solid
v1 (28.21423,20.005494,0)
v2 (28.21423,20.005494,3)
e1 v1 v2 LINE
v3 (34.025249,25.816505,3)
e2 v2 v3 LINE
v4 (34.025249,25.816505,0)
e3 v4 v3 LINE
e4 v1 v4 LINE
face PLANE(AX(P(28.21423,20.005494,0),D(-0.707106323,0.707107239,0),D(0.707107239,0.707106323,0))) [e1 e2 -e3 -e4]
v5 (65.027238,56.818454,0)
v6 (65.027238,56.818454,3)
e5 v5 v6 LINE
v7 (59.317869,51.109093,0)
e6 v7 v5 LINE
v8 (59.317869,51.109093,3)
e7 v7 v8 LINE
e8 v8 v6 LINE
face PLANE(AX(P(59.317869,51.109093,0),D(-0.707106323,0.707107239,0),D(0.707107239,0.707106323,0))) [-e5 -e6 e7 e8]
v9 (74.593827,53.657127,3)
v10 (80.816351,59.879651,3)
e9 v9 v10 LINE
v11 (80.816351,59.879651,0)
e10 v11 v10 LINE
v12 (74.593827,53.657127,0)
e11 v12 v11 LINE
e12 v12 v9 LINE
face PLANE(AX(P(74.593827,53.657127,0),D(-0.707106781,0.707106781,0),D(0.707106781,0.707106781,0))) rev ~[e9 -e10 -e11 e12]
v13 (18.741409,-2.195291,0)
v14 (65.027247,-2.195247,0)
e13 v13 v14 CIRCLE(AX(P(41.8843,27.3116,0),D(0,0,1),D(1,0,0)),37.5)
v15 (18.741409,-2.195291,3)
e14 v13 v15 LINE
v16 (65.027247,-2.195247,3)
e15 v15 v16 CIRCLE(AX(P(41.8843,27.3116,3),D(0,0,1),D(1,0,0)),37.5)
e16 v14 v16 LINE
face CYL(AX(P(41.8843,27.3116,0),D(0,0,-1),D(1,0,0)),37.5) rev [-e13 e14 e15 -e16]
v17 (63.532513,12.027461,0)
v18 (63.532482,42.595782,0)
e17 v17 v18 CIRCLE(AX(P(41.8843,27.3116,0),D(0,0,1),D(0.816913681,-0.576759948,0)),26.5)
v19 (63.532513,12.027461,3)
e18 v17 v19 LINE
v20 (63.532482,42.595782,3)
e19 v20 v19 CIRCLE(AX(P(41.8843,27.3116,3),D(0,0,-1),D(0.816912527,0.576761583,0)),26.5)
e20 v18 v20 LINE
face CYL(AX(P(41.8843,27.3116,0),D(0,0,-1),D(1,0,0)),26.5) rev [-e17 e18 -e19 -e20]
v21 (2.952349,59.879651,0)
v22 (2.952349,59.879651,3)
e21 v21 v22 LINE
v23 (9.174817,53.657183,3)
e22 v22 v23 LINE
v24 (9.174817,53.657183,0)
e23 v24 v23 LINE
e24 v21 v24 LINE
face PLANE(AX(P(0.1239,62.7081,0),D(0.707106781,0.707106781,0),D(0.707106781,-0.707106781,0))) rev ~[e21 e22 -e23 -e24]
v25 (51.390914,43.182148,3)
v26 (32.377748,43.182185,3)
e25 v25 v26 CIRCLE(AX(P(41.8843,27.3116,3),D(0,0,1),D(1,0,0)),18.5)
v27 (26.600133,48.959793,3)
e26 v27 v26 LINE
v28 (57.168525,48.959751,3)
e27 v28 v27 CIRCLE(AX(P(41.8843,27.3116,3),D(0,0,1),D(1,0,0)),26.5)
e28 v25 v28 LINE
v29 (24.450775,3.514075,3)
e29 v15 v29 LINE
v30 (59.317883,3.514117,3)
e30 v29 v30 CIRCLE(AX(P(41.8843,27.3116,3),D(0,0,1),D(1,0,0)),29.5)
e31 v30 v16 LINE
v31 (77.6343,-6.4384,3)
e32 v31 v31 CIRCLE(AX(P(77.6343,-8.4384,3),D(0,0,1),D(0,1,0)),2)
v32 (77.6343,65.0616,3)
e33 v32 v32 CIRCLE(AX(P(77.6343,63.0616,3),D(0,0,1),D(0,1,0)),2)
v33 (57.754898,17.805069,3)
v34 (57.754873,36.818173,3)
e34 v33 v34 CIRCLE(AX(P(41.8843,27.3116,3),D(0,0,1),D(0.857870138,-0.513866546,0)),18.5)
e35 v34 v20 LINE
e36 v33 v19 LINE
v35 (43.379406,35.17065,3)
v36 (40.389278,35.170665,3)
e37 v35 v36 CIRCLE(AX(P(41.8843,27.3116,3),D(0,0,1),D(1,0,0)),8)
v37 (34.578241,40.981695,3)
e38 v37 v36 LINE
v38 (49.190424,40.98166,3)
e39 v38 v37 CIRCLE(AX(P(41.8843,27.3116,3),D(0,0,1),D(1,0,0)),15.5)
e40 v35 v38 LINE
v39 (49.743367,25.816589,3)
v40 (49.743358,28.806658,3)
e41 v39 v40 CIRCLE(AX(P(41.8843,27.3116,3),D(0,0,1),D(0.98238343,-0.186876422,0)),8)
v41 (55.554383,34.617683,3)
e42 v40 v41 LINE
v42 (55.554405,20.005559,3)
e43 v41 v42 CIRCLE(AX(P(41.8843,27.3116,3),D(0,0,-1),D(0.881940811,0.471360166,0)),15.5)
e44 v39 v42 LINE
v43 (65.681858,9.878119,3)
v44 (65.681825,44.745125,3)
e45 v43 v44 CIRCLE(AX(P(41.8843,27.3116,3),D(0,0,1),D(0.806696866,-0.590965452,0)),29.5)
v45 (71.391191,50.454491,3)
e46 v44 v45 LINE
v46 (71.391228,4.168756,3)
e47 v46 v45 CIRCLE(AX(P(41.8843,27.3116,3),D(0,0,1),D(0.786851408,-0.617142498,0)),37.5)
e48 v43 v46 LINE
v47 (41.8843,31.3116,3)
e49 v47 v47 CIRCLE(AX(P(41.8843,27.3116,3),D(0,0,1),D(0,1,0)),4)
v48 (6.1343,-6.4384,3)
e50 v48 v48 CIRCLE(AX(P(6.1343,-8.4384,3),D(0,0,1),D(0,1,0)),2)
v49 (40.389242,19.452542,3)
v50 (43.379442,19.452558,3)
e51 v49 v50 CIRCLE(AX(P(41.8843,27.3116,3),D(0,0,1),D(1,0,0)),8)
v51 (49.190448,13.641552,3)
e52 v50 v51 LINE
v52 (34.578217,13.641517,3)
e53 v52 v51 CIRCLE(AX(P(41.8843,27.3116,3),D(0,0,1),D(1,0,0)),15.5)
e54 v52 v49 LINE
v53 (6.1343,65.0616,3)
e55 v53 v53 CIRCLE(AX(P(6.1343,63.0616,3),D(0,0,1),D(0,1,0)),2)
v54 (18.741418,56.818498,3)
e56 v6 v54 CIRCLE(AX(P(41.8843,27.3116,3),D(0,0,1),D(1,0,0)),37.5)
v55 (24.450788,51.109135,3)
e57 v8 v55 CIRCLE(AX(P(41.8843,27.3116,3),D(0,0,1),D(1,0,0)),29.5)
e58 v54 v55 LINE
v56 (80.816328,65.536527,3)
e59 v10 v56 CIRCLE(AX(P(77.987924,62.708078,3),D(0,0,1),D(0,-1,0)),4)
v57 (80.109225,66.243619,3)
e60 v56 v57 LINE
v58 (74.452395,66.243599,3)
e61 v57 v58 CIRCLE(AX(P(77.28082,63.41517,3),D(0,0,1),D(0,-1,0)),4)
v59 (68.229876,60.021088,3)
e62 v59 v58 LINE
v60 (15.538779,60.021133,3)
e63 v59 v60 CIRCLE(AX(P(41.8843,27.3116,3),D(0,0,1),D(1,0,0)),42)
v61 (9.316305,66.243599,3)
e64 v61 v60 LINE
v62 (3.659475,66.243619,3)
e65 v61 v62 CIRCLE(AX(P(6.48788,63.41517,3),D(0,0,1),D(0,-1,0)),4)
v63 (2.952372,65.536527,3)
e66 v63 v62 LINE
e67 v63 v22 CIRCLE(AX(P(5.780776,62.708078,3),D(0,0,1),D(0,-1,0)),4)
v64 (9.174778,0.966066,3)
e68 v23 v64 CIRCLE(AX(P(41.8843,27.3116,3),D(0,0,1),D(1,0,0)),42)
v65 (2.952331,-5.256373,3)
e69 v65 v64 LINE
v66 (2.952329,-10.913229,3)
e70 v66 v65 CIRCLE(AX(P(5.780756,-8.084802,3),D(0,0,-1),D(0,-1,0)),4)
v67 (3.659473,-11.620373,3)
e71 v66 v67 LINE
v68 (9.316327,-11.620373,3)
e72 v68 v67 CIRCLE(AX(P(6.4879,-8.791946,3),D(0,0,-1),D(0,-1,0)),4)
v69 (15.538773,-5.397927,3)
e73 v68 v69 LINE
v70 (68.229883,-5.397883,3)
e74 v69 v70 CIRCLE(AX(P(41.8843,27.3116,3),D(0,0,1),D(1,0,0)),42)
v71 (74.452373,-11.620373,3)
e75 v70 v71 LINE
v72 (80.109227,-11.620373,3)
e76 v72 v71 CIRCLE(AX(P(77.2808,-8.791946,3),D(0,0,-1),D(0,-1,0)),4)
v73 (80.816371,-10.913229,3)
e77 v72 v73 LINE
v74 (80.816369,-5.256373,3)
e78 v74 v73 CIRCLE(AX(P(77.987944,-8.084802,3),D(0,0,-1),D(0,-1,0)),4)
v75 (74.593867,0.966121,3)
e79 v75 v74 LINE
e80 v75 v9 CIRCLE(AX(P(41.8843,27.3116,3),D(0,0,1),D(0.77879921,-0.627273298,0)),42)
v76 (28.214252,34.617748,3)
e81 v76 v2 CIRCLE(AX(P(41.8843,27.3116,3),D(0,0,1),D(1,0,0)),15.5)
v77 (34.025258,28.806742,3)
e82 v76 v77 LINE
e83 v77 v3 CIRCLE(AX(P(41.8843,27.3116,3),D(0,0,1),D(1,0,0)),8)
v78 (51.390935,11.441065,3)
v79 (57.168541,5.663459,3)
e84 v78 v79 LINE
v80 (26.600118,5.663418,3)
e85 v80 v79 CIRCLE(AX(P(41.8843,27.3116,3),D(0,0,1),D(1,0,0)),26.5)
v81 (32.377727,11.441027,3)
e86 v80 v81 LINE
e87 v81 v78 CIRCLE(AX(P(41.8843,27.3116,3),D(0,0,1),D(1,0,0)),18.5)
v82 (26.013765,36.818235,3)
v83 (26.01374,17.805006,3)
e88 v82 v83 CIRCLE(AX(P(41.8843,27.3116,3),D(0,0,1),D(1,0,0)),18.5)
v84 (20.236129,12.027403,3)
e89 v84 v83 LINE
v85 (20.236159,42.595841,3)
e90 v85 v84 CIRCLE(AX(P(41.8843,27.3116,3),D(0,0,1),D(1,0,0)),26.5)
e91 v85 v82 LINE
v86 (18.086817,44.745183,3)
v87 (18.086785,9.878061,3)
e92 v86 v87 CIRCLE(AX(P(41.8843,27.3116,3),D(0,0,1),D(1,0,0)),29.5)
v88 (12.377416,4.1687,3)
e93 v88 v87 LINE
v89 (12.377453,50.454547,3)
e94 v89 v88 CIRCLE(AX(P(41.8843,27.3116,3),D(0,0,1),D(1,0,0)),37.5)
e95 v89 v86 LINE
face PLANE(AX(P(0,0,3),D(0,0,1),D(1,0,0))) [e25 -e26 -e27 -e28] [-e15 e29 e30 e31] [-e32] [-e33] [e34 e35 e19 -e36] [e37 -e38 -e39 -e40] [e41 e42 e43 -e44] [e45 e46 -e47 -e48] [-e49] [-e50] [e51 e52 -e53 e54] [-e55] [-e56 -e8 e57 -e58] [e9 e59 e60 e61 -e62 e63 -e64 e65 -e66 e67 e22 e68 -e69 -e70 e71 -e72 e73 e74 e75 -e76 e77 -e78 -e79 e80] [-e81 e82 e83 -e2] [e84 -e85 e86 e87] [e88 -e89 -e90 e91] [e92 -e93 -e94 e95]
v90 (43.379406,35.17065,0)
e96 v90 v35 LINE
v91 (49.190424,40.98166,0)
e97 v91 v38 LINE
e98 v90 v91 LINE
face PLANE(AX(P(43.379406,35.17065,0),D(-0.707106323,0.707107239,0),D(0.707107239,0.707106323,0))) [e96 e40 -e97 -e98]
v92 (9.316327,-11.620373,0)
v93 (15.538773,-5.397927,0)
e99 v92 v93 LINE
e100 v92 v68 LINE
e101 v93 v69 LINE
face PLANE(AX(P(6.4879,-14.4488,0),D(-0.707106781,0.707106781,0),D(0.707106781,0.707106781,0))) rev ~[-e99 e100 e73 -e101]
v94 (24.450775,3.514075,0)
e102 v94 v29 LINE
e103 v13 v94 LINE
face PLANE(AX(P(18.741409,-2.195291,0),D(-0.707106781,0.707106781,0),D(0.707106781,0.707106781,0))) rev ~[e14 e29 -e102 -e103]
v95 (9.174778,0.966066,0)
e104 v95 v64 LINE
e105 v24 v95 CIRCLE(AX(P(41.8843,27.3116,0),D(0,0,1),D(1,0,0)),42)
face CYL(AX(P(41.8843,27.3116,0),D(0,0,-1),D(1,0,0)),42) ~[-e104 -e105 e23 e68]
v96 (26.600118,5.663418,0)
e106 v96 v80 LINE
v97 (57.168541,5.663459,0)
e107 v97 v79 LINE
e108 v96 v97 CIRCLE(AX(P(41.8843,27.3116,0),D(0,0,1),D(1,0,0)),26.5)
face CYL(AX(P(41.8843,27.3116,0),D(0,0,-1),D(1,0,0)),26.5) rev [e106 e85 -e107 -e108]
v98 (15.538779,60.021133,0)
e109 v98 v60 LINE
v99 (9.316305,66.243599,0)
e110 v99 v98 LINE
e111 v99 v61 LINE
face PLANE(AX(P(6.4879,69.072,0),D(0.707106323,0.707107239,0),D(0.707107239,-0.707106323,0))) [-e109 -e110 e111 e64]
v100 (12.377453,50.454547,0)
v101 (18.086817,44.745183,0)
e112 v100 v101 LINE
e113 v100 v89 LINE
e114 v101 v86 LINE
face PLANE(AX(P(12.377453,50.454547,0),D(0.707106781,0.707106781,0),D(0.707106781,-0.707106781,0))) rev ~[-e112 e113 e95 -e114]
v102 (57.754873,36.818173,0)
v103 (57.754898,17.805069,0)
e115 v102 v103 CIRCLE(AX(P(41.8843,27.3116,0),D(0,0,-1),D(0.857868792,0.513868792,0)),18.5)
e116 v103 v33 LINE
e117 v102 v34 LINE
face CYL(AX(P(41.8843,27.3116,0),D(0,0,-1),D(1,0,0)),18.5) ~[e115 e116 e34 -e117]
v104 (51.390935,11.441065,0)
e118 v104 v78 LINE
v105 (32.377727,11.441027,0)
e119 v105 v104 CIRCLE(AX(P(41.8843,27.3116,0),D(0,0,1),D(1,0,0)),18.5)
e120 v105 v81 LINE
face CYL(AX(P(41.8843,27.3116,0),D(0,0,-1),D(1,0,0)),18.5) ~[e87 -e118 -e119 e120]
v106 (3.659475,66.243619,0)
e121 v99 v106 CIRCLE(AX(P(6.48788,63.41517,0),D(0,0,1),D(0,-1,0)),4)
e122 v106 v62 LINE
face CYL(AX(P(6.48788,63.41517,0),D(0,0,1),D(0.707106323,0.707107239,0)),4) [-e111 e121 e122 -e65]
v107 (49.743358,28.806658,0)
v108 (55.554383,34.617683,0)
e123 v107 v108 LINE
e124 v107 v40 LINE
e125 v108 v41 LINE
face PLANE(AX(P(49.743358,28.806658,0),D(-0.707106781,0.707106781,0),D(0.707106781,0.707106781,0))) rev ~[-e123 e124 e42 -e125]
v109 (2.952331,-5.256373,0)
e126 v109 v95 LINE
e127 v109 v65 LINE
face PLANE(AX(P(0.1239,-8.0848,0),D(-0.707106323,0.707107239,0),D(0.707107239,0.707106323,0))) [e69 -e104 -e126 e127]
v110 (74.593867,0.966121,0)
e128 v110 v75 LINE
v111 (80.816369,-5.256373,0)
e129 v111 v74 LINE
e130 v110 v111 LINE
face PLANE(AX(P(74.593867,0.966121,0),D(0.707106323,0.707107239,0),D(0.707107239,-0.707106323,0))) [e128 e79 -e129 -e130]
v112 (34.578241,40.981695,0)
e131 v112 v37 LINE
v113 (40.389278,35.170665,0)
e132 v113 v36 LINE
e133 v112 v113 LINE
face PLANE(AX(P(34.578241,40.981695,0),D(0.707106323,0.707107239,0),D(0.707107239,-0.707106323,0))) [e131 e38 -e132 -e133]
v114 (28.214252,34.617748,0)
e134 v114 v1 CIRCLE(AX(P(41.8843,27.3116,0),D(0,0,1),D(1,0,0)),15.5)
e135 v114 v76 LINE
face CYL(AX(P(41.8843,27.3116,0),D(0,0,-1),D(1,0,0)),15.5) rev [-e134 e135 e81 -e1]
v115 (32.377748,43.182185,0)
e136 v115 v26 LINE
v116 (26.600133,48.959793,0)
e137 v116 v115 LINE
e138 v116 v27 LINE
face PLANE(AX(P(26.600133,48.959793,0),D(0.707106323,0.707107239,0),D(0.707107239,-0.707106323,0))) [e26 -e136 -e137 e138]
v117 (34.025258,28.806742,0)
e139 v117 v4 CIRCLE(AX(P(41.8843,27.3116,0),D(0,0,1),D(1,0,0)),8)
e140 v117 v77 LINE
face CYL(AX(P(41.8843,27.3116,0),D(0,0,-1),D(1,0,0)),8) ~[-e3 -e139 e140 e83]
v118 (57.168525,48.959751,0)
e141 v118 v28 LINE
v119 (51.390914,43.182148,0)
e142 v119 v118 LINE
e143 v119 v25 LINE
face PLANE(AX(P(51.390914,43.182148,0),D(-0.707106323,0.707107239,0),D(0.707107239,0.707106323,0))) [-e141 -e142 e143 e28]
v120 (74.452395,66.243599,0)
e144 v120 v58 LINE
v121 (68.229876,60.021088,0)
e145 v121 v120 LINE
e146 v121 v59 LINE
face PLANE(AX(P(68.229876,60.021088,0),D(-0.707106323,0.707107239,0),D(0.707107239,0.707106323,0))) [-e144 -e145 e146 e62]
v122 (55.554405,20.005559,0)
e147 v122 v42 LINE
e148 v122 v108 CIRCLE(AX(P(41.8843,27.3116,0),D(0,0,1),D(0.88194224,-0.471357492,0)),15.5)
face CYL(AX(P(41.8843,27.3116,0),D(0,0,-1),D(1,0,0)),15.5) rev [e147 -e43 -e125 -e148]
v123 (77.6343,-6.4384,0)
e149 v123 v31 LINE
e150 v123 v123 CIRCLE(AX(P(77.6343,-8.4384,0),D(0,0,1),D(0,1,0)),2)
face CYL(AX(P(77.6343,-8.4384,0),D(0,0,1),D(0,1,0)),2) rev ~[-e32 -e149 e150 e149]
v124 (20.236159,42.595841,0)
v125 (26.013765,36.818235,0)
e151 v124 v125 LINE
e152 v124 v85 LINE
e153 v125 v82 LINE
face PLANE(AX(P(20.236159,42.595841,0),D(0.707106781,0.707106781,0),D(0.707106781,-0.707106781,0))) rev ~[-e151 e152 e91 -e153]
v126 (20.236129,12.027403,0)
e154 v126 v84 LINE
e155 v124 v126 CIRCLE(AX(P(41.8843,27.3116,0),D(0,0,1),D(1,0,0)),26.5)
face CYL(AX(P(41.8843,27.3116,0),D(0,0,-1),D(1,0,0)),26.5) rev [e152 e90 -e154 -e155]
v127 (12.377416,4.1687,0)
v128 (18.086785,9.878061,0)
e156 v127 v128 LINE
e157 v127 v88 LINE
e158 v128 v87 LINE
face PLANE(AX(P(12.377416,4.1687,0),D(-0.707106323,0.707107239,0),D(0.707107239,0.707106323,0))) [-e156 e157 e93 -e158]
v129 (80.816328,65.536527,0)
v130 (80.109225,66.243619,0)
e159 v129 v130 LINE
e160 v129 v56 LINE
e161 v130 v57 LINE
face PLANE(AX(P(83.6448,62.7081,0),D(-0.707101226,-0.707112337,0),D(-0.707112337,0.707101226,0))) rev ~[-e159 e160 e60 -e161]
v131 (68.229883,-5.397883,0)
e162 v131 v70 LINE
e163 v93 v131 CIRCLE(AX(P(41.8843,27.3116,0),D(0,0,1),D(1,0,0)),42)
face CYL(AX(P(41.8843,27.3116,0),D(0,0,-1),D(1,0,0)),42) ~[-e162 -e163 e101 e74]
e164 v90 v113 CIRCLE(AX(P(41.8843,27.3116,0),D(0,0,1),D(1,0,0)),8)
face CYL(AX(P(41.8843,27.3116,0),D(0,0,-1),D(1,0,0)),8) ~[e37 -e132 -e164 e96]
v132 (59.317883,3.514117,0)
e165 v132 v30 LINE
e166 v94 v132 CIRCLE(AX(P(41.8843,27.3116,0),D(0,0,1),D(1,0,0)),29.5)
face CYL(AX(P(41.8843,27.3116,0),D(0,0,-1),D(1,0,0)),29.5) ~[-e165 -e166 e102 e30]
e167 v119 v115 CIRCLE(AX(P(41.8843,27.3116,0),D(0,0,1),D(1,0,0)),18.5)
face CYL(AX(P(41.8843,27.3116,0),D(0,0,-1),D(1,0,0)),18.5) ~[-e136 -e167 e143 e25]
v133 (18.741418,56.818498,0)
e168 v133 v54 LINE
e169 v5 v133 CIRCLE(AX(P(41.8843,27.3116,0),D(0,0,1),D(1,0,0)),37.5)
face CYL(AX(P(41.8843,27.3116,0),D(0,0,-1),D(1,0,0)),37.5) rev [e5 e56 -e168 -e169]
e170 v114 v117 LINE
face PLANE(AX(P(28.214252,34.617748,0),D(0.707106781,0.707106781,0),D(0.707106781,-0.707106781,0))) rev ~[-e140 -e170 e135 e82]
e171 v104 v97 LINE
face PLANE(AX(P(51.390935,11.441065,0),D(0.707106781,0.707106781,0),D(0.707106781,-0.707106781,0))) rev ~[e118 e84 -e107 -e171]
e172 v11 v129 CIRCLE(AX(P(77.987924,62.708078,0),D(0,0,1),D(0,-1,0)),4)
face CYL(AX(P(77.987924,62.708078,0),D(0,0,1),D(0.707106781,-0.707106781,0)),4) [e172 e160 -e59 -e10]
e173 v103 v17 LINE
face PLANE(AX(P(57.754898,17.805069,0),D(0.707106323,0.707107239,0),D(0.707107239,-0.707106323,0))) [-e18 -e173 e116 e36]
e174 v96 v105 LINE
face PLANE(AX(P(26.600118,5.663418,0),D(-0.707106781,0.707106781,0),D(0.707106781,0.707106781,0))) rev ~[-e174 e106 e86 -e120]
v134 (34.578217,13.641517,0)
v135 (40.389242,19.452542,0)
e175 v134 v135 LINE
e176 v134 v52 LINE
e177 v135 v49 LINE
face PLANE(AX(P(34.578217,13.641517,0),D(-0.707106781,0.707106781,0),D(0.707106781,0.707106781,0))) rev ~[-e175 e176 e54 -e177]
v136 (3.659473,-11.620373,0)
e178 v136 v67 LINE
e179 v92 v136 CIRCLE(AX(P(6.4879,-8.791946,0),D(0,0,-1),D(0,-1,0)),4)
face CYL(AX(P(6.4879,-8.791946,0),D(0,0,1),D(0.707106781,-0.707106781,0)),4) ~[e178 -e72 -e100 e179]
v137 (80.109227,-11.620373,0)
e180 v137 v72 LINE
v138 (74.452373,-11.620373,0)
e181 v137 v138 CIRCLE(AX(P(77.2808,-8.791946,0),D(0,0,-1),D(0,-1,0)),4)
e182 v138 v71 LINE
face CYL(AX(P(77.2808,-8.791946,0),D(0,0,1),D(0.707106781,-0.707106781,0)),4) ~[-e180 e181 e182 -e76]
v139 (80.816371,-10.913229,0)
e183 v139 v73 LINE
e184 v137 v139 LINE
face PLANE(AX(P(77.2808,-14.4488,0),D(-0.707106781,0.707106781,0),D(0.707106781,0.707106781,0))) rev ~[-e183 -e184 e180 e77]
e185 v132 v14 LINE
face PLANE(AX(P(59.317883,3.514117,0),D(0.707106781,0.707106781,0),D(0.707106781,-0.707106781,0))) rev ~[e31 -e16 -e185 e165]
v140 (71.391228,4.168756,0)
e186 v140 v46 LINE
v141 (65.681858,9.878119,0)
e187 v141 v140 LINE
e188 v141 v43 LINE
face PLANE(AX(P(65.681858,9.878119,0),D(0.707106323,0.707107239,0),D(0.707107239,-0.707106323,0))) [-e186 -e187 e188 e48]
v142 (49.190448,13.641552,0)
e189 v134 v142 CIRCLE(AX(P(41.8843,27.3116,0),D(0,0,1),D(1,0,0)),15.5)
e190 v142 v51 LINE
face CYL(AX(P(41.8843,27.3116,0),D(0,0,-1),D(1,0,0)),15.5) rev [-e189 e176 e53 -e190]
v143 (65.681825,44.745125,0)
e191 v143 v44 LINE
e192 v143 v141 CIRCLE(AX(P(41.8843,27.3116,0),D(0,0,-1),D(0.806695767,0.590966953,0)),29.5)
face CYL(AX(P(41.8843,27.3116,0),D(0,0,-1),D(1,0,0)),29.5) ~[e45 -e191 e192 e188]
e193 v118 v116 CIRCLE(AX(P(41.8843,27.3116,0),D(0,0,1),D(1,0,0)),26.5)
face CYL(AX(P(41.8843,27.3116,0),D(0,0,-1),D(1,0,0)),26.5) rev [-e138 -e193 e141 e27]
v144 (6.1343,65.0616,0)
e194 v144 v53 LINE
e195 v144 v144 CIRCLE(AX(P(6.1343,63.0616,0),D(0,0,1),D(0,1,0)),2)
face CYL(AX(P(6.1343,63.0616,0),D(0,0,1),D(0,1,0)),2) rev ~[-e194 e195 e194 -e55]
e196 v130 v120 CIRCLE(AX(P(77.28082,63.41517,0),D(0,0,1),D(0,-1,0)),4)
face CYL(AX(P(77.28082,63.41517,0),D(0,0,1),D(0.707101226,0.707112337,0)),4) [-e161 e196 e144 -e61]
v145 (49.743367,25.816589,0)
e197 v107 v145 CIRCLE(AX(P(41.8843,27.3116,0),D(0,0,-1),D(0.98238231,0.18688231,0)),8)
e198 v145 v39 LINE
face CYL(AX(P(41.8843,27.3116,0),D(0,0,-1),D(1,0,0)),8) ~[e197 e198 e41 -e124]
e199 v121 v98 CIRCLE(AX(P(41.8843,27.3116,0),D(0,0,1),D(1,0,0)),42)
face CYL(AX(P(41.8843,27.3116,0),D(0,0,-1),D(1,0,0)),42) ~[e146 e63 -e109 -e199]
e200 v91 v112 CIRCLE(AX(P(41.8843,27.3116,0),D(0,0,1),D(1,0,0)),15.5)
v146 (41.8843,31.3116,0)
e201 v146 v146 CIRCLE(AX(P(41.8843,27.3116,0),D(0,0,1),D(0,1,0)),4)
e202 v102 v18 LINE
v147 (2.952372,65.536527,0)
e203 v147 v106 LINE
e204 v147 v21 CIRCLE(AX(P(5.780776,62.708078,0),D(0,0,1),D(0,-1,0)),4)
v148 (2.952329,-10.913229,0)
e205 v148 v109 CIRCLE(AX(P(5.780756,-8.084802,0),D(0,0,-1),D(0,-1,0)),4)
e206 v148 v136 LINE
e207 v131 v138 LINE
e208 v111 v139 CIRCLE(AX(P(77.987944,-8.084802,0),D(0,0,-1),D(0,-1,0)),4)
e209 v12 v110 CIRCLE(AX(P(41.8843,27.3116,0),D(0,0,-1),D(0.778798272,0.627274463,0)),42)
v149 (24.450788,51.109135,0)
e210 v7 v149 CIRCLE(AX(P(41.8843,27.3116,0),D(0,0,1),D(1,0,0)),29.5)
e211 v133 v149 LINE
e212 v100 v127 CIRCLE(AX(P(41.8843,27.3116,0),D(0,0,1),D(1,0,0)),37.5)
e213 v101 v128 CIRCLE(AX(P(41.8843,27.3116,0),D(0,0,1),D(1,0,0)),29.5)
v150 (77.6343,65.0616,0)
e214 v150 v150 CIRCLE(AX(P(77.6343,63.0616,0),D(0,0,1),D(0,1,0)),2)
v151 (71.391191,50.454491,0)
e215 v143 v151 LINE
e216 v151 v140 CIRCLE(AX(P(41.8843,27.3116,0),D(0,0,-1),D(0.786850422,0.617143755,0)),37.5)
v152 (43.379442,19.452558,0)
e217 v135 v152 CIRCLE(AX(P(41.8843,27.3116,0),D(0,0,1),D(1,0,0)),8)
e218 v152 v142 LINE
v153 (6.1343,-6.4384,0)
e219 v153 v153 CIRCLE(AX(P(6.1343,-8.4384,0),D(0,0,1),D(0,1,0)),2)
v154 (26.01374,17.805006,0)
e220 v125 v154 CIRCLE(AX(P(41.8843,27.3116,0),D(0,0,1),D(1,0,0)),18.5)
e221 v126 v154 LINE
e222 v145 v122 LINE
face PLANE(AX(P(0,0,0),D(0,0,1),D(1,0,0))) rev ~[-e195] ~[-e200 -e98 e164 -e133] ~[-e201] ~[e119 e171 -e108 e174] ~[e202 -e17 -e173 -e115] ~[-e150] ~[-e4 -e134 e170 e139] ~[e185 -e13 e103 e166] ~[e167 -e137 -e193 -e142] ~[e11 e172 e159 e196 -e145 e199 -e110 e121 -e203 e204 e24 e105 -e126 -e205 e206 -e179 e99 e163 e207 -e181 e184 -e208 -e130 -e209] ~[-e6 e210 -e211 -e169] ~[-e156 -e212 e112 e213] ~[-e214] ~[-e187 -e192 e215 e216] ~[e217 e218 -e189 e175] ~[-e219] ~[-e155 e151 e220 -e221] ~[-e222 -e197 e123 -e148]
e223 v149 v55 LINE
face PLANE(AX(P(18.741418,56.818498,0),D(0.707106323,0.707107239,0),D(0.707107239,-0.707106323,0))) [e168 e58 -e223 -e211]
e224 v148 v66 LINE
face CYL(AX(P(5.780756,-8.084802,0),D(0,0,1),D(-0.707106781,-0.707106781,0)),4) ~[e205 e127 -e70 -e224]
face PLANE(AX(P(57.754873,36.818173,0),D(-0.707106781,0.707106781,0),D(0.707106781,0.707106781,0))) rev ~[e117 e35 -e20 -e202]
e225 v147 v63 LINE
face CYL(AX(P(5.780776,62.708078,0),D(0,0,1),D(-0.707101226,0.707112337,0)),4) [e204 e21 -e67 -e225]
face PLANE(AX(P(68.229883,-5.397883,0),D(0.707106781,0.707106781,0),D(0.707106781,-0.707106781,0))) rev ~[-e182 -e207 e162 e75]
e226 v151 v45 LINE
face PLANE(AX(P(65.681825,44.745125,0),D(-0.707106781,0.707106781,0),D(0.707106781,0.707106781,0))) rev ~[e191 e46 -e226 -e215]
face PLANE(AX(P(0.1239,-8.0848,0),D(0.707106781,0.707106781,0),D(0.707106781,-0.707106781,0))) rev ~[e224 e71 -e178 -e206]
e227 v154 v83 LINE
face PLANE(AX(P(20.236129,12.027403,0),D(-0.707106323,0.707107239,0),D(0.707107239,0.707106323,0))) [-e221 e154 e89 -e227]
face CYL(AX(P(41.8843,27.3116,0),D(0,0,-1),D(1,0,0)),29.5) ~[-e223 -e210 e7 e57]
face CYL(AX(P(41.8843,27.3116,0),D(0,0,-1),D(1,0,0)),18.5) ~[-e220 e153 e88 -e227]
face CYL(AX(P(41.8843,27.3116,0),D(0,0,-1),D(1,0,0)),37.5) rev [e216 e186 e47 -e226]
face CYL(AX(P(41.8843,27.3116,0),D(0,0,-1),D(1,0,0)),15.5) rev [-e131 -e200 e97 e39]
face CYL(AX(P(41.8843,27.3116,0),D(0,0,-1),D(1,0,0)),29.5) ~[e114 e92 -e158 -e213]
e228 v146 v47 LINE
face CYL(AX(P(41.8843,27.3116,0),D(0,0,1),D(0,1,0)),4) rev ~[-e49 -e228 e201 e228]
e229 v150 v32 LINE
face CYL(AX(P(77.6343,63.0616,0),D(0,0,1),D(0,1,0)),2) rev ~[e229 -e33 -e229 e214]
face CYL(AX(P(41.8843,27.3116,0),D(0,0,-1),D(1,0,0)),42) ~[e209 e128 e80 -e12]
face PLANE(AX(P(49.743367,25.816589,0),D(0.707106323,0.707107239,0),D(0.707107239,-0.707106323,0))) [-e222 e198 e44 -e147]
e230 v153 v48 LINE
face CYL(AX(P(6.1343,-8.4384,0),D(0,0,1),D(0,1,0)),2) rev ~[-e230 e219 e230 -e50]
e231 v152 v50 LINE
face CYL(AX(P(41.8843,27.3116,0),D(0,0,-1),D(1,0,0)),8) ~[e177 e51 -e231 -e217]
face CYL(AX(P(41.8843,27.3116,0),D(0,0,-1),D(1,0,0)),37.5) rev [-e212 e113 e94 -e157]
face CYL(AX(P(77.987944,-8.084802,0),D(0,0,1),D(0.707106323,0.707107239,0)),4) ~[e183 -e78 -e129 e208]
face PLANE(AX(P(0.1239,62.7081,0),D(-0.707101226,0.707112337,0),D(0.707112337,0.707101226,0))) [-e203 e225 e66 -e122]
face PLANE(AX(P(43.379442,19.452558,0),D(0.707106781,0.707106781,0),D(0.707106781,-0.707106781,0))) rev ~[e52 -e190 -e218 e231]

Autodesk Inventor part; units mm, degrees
ref_plane "YZ Plane" through (0, 0, 0) normal (1, 0, 0) x (0, 1, 0)
ref_plane "XZ Plane" through (0, 0, 0) normal (0, 1, 0) x (-1, 0, 0)
ref_plane "XY Plane" through (0, 0, 0) normal (0, 0, 1) x (1, 0, 0)
sketch "Szkic1" plane through (0, 0, 0) normal (0, 0, 1) x (1, 0, 0)
  circle A0 centre (41.8843, 27.3116) radius 37.5
  circle A1 centre (41.8843, 27.3116) radius 42
  circle A2 centre (41.8843, 27.3116) radius 29.5
  circle A3 centre (41.8843, 27.3116) radius 26.5
  circle A4 centre (41.8843, 27.3116) radius 18.5
  circle A5 centre (41.8843, 27.3116) radius 15.5
  circle A6 centre (41.8843, 27.3116) radius 8
  line L0 (0.1239, 62.7081) -> (6.4879, 69.072)
  line L1 (83.6448, 62.7081) -> (77.2808, 69.072)
  line L2 (77.2808, -14.4488) -> (83.6448, -8.0848)
  line L3 (0.1239, -8.0848) -> (6.4879, -14.4488)
  line L4 (0.1239, 62.7081) -> (77.2808, -14.4488)
  line L5 (6.4879, 69.072) -> (83.6448, -8.0848)
  line L6 (0.1239, -8.0848) -> (77.2808, 69.072)
  line L7 (6.4879, -14.4488) -> (83.6448, 62.7081)
  point P0 (0, 0)
  point P1 (0, 0)
  point P2 (6.1343, 63.0616)
  point P3 (77.6343, 63.0616)
  point P4 (77.6343, -8.4384)
  point P5 (6.1343, -8.4384)
  dimension "d0" = 75
  dimension "d1" = 35.75
  dimension "d2" = 35.75
  dimension "d3" = 35.75
  dimension "d4" = 35.75
  dimension "d5" = 35.75
  dimension "d6" = 35.75
  dimension "d7" = 35.75
  dimension "d8" = 35.75
  dimension "d9" = 4.5
  dimension "d20" = 8
  dimension "d21" = 3
  dimension "d22" = 8
  dimension "d23" = 3
  dimension "d24" = 16
  dimension "d33" = 4
  dimension "d34" = 4
  dimension "d35" = 4
  dimension "d36" = 4
extrude "Wyciągnięcie proste1" add sketch "Szkic1" along normal blind 3 contours A0 L7 A1 L5 | L7 A2 L6 A0 | A0 L6 A1 L7 | L5 A1 L4 A0 | A0 L4 A2 L5 | A0 L5 A1 L6 | L7 A3 L6 A2 | A2 L5 A3 L7 | A1 L6 L1 L7 | L4 A1 L7 A0 | A2 L4 A3 L5 | L5 L2 L4 A1 | L5 A2 L4 A0 | A0 L4 A1 L5 | L6 A3 L5 A2 | L7 A4 L6 A3 | L7 A1 L6 A0 | A0 L6 A2 L7 | A2 L7 A3 L4 | A3 L4 A4 L5 | A0 L6 A1 L4 | A1 L4 L0 L5 | L5 A3 L4 A2 | L7 A5 L6 A4 | A4 L5 A5 L7 | L7 L3 L6 A1 | A2 L6 A3 L7 | A4 L4 A5 L5 | L4 A3 L6 A2 | L5 A4 L4 A3 | L6 A5 L5 A4 | L7 A6 L6 A5 | A3 L6 A4 L7 | A4 L7 A5 L4 | A5 L4 A6 L5 | L5 A5 L4 A4 | L7 L5 L6 A6 | A6 L5 L7 | A4 L6 A5 L7 | A6 L4 L7 L5 | L4 A5 L6 A4 | L5 A6 L4 A5 | L6 L5 A6 | L7 L4 L6 L5 | A5 L6 A6 L7 | A6 L7 L4 | L5 L6 L4 A6 | L7 A6 L6 L4 | L4 L6 A6
hole "Otwór1" at (6.1343, -8.4384, 0) at (77.6343, -8.4384, 0) at (77.6343, 63.0616, 0) at (6.1343, 63.0616, 0) direction (0, 0, 1) diameter 4 end through all
fillet "Zaokrąglenie1" radius 4 8 edges at (6.4879, -14.4488, 1.5) (0.1239, -8.0848, 1.5) (77.2808, -14.4488, 1.5) (83.6448, -8.0848, 1.5) (83.6448, 62.7081, 1.5) (77.2808, 69.072, 1.5) (0.1239, 62.7081, 1.5) (6.4879, 69.072, 1.5)
hole "Otwór2" at (41.8843, 27.3116, 0) direction (0, 0, 1) diameter 8 depth 8 tip angle 118
equation "\"d2\" = d1"
equation "\"d3\" = d1"
equation "\"d4\" = d1"
equation "\"d5\" = d1"
equation "\"d6\" = d1"
equation "\"d7\" = d1"
equation "\"d8\" = d1"
equation "\"d17\" = d16"
equation "\"d18\" = d16"
equation "\"d19\" = d16"
equation "\"d16\" = 4.5"
properties part number "3DP_PLA_Controller_Case_Fan_Grill"
